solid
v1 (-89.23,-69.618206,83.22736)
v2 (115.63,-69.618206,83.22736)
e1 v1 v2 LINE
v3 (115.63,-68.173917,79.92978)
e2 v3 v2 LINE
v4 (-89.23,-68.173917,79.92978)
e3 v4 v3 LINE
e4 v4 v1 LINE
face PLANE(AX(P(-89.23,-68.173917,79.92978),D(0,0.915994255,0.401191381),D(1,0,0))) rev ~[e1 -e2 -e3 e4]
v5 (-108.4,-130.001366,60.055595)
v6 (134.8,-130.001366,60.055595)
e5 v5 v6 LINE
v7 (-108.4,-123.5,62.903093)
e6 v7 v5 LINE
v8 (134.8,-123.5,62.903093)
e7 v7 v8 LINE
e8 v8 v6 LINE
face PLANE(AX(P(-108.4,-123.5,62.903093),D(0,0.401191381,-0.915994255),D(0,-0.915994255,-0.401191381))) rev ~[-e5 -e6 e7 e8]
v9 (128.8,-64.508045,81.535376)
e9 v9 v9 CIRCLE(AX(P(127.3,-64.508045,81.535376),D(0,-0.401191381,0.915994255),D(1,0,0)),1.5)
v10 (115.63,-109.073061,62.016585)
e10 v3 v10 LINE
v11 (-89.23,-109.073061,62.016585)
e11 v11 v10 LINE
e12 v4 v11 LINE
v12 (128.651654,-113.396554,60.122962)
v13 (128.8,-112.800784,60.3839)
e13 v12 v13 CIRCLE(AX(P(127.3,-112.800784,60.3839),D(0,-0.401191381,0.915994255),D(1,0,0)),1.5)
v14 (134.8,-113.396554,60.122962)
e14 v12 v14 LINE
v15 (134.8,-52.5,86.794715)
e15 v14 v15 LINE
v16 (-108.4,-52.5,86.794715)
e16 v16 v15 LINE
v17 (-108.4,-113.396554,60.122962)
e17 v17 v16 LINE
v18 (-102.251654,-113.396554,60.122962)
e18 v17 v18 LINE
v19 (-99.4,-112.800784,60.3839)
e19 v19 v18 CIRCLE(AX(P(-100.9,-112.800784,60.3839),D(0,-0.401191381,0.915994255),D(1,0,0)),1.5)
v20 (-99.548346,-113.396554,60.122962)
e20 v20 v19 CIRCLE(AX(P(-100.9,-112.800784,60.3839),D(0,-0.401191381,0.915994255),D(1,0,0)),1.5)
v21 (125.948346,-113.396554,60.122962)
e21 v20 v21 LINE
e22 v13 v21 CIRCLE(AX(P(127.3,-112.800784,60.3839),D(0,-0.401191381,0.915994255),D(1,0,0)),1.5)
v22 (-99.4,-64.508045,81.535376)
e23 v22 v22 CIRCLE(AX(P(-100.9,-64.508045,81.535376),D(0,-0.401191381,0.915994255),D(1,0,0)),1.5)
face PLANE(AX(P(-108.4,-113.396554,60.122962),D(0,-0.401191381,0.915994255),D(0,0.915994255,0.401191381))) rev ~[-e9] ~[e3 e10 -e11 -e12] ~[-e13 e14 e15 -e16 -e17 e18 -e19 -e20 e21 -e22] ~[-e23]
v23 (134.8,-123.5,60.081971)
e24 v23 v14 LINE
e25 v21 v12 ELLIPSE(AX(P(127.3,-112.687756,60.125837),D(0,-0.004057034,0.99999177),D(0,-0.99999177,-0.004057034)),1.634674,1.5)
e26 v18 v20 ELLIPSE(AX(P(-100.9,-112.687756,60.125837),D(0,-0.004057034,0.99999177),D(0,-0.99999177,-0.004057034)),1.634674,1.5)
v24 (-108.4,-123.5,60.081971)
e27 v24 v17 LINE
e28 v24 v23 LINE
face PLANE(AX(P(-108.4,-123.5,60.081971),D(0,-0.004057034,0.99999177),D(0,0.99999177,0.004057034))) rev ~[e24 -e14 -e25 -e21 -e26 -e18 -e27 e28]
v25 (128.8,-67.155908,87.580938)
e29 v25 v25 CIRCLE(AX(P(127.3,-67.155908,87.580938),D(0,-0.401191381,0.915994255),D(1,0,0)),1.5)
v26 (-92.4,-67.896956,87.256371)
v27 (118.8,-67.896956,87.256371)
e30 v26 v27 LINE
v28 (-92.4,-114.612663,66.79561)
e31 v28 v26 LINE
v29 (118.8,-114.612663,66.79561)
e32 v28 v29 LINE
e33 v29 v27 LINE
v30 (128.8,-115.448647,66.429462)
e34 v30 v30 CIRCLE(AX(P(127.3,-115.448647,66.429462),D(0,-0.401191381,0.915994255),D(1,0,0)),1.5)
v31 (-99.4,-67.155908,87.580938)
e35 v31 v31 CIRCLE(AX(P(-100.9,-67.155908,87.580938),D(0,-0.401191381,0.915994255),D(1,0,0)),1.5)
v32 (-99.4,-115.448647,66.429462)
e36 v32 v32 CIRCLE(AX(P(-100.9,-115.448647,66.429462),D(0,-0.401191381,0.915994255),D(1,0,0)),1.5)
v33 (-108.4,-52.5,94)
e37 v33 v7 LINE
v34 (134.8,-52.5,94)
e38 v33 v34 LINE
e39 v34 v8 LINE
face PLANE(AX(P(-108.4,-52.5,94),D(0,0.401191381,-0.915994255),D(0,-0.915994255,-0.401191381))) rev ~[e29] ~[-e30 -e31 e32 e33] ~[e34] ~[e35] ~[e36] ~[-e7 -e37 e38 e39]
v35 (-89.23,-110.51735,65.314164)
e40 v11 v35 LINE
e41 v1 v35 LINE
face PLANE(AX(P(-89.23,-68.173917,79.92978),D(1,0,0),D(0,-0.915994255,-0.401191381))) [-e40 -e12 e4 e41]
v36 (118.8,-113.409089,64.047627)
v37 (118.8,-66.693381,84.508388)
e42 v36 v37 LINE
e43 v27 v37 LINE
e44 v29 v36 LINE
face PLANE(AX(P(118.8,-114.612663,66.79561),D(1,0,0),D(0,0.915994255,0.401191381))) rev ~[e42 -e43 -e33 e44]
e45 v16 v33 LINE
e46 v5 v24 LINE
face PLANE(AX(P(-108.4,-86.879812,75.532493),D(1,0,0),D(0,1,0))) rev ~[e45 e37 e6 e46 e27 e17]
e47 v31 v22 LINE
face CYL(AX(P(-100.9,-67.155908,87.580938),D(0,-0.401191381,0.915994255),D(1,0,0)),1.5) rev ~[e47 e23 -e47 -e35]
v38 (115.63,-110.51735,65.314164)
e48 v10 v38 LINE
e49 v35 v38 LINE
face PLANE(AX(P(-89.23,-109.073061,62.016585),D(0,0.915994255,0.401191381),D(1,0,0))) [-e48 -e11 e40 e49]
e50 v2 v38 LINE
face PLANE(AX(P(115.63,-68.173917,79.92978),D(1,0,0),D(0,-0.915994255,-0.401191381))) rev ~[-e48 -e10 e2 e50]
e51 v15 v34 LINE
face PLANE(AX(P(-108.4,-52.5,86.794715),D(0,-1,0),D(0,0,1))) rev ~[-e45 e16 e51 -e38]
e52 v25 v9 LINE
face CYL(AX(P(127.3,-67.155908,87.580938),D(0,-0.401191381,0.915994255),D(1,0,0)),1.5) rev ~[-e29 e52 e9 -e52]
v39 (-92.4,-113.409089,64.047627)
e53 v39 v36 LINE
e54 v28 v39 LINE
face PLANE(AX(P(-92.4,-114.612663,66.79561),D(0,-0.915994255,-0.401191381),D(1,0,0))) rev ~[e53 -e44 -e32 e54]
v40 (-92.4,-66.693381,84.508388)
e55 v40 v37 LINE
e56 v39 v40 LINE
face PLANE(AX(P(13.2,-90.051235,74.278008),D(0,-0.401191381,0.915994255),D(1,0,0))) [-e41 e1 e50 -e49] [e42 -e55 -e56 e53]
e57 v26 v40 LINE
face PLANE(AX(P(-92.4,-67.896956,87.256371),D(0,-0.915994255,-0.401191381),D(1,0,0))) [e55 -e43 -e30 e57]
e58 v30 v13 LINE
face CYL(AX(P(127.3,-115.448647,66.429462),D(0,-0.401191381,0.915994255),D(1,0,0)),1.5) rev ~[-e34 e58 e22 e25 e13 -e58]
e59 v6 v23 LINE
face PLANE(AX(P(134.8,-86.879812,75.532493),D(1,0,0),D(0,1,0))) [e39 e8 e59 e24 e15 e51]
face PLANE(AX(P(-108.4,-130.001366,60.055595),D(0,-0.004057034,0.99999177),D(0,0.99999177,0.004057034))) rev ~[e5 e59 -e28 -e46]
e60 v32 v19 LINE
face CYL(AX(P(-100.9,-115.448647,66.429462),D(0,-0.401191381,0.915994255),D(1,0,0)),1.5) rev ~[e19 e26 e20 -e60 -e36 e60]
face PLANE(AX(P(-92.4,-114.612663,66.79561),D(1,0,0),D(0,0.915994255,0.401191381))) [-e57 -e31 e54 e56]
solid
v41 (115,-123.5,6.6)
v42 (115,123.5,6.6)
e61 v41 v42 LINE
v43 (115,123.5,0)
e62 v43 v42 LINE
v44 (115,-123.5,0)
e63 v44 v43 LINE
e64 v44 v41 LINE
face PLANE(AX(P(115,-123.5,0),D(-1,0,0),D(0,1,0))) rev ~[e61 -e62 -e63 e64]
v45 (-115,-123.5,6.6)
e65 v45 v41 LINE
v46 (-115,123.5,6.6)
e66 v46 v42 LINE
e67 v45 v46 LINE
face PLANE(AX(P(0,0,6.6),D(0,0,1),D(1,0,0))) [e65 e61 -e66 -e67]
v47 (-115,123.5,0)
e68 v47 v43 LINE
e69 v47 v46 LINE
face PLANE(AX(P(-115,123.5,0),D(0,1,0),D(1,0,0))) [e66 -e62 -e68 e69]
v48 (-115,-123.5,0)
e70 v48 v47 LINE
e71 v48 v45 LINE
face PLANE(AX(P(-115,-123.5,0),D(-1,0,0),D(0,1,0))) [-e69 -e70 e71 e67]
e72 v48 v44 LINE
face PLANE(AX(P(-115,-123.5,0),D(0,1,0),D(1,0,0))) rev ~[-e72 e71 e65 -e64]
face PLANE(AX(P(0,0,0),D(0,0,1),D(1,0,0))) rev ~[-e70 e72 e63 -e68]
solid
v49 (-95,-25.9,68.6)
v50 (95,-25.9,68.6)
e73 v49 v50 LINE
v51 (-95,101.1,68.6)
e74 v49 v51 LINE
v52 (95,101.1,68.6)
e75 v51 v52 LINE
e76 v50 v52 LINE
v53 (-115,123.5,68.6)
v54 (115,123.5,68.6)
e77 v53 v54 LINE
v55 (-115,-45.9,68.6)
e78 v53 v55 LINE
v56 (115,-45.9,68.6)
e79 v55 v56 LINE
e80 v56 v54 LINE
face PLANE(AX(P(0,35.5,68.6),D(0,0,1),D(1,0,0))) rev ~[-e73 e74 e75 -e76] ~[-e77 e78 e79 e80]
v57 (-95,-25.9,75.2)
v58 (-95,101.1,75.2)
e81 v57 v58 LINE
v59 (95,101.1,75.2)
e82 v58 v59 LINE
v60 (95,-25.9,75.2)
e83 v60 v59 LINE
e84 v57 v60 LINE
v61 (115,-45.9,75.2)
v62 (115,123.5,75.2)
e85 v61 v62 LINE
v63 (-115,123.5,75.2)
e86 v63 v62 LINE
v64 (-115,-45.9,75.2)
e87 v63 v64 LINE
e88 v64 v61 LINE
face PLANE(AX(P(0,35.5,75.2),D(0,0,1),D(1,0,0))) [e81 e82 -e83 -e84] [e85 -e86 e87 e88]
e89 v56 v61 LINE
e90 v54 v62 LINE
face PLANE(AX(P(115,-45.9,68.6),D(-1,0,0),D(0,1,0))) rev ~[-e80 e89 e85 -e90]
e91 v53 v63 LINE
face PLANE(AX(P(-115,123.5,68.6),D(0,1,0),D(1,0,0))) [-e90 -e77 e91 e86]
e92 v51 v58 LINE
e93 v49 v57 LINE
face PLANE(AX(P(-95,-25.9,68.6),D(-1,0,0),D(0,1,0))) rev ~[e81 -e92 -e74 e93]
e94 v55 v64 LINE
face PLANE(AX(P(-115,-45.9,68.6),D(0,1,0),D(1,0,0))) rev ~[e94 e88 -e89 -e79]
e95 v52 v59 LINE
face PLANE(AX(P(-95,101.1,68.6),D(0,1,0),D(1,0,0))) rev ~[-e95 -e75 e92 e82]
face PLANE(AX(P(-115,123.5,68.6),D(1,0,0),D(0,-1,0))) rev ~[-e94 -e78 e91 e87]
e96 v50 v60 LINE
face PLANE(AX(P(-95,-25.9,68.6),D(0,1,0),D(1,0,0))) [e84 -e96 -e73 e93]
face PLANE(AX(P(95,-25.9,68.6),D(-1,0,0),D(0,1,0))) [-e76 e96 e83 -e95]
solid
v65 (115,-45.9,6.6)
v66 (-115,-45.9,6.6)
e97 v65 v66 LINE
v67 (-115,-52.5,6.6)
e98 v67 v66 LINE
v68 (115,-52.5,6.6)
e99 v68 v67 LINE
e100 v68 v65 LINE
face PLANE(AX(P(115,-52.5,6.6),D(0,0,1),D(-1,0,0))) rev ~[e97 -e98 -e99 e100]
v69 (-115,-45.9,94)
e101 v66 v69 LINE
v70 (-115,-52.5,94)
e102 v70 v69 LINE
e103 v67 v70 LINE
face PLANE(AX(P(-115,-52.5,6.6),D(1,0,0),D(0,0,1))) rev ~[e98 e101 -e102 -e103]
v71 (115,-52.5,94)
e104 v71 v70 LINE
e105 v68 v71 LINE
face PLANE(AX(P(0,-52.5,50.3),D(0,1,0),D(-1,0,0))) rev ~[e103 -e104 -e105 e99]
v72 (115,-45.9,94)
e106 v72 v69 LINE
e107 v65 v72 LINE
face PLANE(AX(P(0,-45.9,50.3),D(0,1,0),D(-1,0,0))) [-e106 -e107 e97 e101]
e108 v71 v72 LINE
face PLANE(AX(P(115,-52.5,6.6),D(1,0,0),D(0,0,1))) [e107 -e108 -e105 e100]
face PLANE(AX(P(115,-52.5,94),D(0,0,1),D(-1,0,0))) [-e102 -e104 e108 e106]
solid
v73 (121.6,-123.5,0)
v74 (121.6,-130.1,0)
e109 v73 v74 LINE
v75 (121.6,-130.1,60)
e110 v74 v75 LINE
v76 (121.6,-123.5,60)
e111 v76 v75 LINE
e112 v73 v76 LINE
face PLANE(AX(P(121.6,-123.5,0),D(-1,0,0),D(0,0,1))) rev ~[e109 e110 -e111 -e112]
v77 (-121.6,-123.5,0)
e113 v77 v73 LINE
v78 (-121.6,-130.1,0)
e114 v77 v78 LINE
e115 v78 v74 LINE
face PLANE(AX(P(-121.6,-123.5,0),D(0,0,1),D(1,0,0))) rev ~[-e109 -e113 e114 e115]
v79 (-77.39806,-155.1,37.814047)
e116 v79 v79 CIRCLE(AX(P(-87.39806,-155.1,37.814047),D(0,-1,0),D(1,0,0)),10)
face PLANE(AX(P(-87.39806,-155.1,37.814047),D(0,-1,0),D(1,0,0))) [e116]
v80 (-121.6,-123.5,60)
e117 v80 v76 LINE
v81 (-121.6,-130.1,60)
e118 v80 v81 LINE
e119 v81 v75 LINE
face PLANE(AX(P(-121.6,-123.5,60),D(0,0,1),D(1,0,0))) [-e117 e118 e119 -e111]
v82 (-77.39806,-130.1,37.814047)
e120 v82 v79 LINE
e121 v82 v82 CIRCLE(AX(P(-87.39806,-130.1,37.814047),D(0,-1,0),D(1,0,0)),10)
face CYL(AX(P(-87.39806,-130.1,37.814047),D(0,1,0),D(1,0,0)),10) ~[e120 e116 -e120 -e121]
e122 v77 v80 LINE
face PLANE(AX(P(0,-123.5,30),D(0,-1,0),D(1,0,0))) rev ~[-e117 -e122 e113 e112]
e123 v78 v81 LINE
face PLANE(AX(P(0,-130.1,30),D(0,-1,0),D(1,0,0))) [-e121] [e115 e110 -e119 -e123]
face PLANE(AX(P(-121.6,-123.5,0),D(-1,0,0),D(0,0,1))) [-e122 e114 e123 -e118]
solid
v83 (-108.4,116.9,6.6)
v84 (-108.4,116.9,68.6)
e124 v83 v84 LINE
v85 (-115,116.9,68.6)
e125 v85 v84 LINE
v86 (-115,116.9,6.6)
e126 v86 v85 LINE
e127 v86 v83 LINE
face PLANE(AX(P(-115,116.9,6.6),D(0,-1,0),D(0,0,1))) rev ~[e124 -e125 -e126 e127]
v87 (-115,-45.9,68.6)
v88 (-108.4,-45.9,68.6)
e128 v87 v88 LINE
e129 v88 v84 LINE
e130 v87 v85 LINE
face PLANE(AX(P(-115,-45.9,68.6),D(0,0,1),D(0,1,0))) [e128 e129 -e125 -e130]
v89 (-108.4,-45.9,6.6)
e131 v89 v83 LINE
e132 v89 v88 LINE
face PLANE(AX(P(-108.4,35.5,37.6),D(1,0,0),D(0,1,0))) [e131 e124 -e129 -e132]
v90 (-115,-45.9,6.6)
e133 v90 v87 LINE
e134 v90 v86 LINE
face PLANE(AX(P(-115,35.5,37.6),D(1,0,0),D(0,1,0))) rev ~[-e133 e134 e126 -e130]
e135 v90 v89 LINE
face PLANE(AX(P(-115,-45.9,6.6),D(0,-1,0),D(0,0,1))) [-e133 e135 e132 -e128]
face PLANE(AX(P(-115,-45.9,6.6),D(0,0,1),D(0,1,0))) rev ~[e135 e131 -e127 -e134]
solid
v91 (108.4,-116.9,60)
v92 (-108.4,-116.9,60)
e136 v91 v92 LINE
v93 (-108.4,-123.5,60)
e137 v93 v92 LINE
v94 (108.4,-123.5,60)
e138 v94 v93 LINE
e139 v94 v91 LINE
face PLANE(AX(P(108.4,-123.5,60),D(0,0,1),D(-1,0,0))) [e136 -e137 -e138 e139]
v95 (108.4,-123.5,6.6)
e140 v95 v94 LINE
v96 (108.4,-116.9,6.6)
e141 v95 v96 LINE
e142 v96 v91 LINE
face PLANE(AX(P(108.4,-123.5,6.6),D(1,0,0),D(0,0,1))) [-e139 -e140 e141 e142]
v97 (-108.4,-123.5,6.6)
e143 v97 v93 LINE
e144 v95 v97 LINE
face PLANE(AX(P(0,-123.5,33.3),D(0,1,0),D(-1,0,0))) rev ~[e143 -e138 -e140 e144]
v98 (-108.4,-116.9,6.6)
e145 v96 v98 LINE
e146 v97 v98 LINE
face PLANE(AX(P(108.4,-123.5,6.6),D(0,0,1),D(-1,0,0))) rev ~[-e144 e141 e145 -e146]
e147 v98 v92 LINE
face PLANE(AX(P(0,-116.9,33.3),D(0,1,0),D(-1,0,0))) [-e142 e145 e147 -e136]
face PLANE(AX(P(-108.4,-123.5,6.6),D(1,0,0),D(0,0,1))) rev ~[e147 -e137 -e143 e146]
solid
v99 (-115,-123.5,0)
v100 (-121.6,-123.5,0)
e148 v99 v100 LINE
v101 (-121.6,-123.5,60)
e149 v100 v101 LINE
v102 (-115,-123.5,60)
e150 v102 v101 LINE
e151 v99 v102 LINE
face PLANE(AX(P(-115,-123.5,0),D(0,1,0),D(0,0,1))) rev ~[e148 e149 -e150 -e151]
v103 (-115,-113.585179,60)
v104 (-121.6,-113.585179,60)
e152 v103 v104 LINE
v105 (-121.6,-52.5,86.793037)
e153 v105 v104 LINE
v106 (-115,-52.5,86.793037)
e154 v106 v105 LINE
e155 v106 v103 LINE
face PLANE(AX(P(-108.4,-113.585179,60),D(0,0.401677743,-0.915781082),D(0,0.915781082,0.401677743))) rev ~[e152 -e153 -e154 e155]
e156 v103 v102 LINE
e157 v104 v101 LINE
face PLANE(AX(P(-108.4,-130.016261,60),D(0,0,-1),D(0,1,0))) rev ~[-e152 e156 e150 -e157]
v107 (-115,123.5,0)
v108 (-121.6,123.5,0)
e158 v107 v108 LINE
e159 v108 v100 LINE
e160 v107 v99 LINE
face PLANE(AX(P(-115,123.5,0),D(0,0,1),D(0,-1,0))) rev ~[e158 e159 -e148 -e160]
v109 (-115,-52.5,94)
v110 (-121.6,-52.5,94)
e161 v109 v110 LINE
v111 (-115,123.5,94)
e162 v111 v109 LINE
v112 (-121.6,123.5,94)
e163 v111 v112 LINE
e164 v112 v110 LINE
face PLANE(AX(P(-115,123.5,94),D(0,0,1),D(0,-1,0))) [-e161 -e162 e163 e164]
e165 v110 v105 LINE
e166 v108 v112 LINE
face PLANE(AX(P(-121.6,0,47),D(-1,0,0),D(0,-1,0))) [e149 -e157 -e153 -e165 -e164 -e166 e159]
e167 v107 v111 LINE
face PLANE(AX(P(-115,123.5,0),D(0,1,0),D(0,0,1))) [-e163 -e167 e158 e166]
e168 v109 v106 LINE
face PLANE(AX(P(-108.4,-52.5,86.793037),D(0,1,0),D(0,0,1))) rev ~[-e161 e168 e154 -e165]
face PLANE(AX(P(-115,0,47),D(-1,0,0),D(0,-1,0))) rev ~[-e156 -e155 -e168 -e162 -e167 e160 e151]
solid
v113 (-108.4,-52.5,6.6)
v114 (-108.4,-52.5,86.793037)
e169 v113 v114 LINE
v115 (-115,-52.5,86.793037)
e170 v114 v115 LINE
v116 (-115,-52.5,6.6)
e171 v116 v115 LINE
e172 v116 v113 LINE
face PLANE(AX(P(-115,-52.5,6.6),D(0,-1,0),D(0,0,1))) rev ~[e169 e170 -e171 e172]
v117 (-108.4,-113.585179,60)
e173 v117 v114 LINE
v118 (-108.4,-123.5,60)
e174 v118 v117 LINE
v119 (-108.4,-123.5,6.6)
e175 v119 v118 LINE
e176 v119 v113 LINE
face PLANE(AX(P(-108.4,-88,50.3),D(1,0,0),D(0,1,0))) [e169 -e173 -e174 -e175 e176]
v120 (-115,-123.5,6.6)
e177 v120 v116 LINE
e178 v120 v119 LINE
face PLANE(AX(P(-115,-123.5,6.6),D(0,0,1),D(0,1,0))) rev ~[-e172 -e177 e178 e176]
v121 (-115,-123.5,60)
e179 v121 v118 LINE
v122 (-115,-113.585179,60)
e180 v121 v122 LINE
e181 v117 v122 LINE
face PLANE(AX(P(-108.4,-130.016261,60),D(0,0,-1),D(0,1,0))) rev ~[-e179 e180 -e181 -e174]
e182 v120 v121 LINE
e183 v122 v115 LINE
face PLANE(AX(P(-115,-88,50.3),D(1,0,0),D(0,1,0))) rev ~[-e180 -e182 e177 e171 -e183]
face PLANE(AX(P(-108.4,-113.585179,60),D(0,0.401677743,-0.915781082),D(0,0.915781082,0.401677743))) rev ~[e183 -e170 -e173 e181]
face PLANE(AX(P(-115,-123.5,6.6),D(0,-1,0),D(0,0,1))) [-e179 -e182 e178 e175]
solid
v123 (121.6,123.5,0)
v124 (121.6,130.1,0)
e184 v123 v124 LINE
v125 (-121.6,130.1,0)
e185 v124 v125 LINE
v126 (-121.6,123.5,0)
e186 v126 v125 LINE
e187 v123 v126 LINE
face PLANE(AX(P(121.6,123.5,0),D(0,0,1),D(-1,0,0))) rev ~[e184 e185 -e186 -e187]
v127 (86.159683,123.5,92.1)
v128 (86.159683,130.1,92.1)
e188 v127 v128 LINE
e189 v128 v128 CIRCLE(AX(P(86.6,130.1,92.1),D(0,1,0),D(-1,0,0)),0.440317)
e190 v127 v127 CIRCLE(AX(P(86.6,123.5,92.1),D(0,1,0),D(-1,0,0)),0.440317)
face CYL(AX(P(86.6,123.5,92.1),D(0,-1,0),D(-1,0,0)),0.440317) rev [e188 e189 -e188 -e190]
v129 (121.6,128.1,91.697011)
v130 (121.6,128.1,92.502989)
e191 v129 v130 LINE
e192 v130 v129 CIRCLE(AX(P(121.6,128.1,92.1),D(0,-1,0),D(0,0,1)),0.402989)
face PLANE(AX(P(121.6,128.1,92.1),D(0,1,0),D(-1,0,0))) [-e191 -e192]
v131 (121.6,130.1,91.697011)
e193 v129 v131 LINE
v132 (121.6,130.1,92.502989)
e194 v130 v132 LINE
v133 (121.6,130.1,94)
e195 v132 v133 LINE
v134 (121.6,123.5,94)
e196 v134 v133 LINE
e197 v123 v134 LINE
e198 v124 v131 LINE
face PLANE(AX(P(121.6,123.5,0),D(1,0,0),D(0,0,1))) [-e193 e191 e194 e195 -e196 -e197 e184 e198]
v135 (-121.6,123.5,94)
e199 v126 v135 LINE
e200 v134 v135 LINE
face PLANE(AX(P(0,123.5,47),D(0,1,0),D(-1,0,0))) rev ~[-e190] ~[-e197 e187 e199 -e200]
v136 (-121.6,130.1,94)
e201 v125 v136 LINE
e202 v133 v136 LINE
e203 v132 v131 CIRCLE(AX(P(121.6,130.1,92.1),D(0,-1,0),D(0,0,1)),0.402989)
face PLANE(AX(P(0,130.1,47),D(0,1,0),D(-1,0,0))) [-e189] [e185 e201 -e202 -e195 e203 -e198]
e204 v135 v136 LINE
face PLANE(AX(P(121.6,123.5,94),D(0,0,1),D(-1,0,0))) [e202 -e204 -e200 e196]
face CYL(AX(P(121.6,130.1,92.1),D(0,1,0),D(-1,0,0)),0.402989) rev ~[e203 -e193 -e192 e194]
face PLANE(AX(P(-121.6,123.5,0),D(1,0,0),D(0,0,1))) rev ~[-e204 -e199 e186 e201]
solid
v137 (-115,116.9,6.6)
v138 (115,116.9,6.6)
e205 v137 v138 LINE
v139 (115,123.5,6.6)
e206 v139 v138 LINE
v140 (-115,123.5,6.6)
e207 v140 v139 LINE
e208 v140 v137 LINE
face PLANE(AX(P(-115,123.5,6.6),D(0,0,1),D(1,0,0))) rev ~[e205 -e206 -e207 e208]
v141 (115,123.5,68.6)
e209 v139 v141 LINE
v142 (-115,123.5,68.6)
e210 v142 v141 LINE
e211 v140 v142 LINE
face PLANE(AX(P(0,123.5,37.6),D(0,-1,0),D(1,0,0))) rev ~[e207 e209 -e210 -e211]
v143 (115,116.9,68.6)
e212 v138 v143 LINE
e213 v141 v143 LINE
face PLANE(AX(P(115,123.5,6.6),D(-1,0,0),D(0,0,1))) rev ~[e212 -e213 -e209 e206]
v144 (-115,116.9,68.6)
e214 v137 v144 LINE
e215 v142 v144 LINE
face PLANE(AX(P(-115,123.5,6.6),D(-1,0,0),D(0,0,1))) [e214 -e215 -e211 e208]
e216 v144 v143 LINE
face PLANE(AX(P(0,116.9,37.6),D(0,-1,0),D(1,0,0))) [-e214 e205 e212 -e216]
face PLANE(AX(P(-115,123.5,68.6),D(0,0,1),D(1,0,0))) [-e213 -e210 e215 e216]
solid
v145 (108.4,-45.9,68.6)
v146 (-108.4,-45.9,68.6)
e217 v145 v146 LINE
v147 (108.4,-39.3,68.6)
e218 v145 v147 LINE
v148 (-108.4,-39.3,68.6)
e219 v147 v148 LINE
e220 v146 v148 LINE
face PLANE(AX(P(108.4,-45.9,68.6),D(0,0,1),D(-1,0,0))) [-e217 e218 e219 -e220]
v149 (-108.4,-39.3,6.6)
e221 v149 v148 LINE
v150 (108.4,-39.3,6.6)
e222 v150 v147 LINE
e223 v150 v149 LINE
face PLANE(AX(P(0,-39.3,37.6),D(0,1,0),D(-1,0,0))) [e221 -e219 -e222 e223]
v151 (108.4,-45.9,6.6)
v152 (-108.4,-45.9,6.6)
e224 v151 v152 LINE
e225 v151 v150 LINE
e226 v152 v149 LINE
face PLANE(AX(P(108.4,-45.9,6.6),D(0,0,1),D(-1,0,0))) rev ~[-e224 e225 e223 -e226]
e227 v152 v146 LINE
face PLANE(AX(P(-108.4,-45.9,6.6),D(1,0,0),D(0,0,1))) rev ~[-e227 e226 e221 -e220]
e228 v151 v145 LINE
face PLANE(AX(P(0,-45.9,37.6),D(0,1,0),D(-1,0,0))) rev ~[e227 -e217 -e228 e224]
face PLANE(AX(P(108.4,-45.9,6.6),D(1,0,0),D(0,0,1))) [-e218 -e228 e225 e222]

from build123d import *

# Parameters (mm, degrees)
F0_W      = 230
F0_H      = 247
F1_DEPTH  = 6.6
F2_W      = 243.2
F2_H      = 94
F2_R      = 0.4403166593
F3_DEPTH  = 6.6
F4_W      = 247
F4_H      = 94
F5_DEPTH  = 6.6
F6_W      = 230
F6_H      = 62
F7_DEPTH  = 6.6
F8_W      = 243.2
F8_H      = 60
F9_DEPTH  = 6.6
F10_W     = 71
F10_H     = 87.4
F11_DEPTH = 6.6
F12_W     = 230
F12_H     = 87.4
F13_DEPTH = 6.6
F14_R     = 0.402989406
F15_DEPTH = 2
F16_W     = 162.8
F16_H     = 62
F17_DEPTH = 6.6
F18_W     = 216.8
F18_H     = 62
F19_DEPTH = 6.6
F20_W     = 230
F20_H     = 162.8
F20_W_2   = 190
F20_H_2   = 127
F20_H_3   = 6.6
F21_DEPTH = 6.6
F22_W     = 216.8
F22_H     = 53.4
F23_DEPTH = 6.6
F25_DEPTH = 243.2
F27_DEPTH = 25
F28_DEPTH = 25
F29_W     = 204.86
F29_H     = 44.65
F30_DEPTH = 37.7334511403
F31_W     = 211.2
F31_H     = 51
F32_DEPTH = 3
F33_R     = 1.5
F34_DEPTH = 6.6
F35_R     = 10
F36_DEPTH = 25


with BuildPart() as f1:
    # F0 (on Top) → F1 (new body)
    with BuildSketch(Plane.XY):
        Rectangle(F0_W, F0_H)
    extrude(amount=F1_DEPTH)

    # F26 (on face) → F28 (cut)
    with BuildSketch(Plane.YZ.offset(-108.4)):
        Polygon((-52.5, 86.7930374113), (-52.5, 94), (-123.5, 62.8581471056), (-130.0162610969, 60), (-113.585178928, 60), align=None)
        Polygon((-123.5, 62.8581471056), (-52.5, 94), (-123.5, 94), align=None)
    extrude(amount=-F28_DEPTH, mode=Mode.SUBTRACT)


with BuildPart() as f3:
    # F2 (on face) → F3 (new body)
    with BuildSketch(Plane(origin=(0, 123.5, 0), x_dir=(-1, 0, 0), z_dir=(0, 1, 0))):
        with Locations((0, 47)):
            Rectangle(F2_W, F2_H)
        with Locations((-86.6, 92.1)):
            Circle(F2_R, mode=Mode.SUBTRACT)
    extrude(amount=F3_DEPTH)

    # F14 (on face) → F15 (cut)
    with BuildSketch(Plane(origin=(0, 130.1, 0), x_dir=(-1, 0, 0), z_dir=(0, 1, 0))):
        with Locations((-121.6, 92.1)):
            Circle(F14_R)
    extrude(amount=-F15_DEPTH, mode=Mode.SUBTRACT)


with BuildPart() as f5:
    # F4 (on face) → F5 (new body)
    with BuildSketch(Plane(origin=(-115, 0, 0), x_dir=(0, -1, 0), z_dir=(-1, 0, 0))):
        with Locations((0, 47)):
            Rectangle(F4_W, F4_H)
    extrude(amount=F5_DEPTH)


with BuildPart() as f7:
    # F6 (on face) → F7 (new body)
    with BuildSketch(Plane.XZ.offset(-123.5)):
        with Locations((0, 37.6)):
            Rectangle(F6_W, F6_H)
    extrude(amount=F7_DEPTH)


with BuildPart() as f9:
    # F8 (on face) → F9 (new body)
    with BuildSketch(Plane.XZ.offset(123.5)):
        with Locations((0, 30)):
            Rectangle(F8_W, F8_H)
    extrude(amount=F9_DEPTH)

    # F35 (on face) → F36 (join)
    with BuildSketch(Plane.XZ.offset(130.1)):
        with Locations((-87.3980596662, 37.8140471876)):
            Circle(F35_R)
    extrude(amount=F36_DEPTH)


with BuildPart() as f11:
    # F10 (on face) → F11 (new body)
    with BuildSketch(Plane.YZ.offset(-115)):
        with Locations((-88, 50.3)):
            Rectangle(F10_W, F10_H)
    extrude(amount=F11_DEPTH)


with BuildPart() as f13:
    # F12 (on face) → F13 (new body)
    with BuildSketch(Plane(origin=(0, -52.5, 0), x_dir=(-1, 0, 0), z_dir=(0, 1, 0))):
        with Locations((0, 50.3)):
            Rectangle(F12_W, F12_H)
    extrude(amount=F13_DEPTH)


with BuildPart() as f17:
    # F16 (on face) → F17 (new body)
    with BuildSketch(Plane.YZ.offset(-115)):
        with Locations((35.5, 37.6)):
            Rectangle(F16_W, F16_H)
    extrude(amount=F17_DEPTH)


with BuildPart() as f19:
    # F18 (on face) → F19 (new body)
    with BuildSketch(Plane(origin=(0, -45.9, 0), x_dir=(-1, 0, 0), z_dir=(0, 1, 0))):
        with Locations((0, 37.6)):
            Rectangle(F18_W, F18_H)
    extrude(amount=F19_DEPTH)


with BuildPart() as f21:
    # F20 (on face) → F21 (new body)
    with BuildSketch(Plane.XY.offset(68.6)):
        with Locations((0, 35.5)):
            Rectangle(F20_W, F20_H)
        with Locations((0, 37.6)):
            Rectangle(F20_W_2, F20_H_2, mode=Mode.SUBTRACT)
        with Locations((0, 120.2)):
            Rectangle(F20_W, F20_H_3)
    extrude(amount=F21_DEPTH)


with BuildPart() as f23:
    # F22 (on face) → F23 (new body)
    with BuildSketch(Plane(origin=(0, -123.5, 0), x_dir=(-1, 0, 0), z_dir=(0, 1, 0))):
        with Locations((0, 33.3)):
            Rectangle(F22_W, F22_H)
    extrude(amount=F23_DEPTH)


with BuildPart() as f25:
    # F24 (on face) → F25 (new body)
    with BuildSketch(Plane.YZ.offset(-108.4)):
        Polygon((-123.5, 60.081971369), (-113.3965536834, 60.1229617272), (-52.5, 86.7947146387), (-52.5, 94), (-123.5, 62.9030931608), align=None)
        Polygon((-130.0013661385, 60.0555948913), (-123.5, 60.081971369), (-123.5, 62.9030931608), align=None)
    extrude(amount=F25_DEPTH)

    # F29 (on face) → F30 (cut, through all)
    with BuildSketch(Plane(origin=(0, -40.3462153981, 92.1178851671), x_dir=(1, 0, 0), z_dir=(0, 0.4011913807, -0.9159942555))):
        with Locations((13.2, 52.7047777396)):
            Rectangle(F29_W, F29_H)
    extrude(amount=-F30_DEPTH, mode=Mode.SUBTRACT)

    # F31 (on face) → F32 (cut)
    with BuildSketch(Plane(origin=(0, -42.9940785105, 98.1634472532), x_dir=(1, 0, 0), z_dir=(0, -0.4011913807, 0.9159942555))):
        with Locations((13.2, -52.6867175557)):
            Rectangle(F31_W, F31_H)
    extrude(amount=-F32_DEPTH, mode=Mode.SUBTRACT)

    # F33 (on face) → F34 (cut)
    with BuildSketch(Plane(origin=(0, -42.9940785105, 98.1634472532), x_dir=(1, 0, 0), z_dir=(0, -0.4011913807, 0.9159942555))):
        with Locations((-100.9, -79.0993697975)):
            Circle(F33_R)
        with Locations((-100.9, -26.3777086293)):
            Circle(F33_R)
        with Locations((127.3, -26.3777086293)):
            Circle(F33_R)
        with Locations((127.3, -79.0993697975)):
            Circle(F33_R)
    extrude(amount=-F34_DEPTH, mode=Mode.SUBTRACT)


with BuildPart() as f27_tool:
    # F26 (on face) → F27 (new body)
    with BuildSketch(Plane.YZ.offset(-108.4)):
        Polygon((-52.5, 86.7930374113), (-52.5, 94), (-123.5, 62.8581471056), (-130.0162610969, 60), (-113.585178928, 60), align=None)
        Polygon((-123.5, 62.8581471056), (-52.5, 94), (-123.5, 94), align=None)
    extrude(amount=-F27_DEPTH)


with BuildPart() as f5_1:
    add(f5.part)

    # F27: cut by f27_tool
    add(f27_tool.part, mode=Mode.SUBTRACT)


with BuildPart() as f11_1:
    add(f11.part)

    # F27: cut by f27_tool
    add(f27_tool.part, mode=Mode.SUBTRACT)


solid = Compound([f1.part, f3.part, f7.part, f9.part, f13.part, f17.part, f19.part, f21.part, f23.part, f25.part, f5_1.part, f11_1.part])
